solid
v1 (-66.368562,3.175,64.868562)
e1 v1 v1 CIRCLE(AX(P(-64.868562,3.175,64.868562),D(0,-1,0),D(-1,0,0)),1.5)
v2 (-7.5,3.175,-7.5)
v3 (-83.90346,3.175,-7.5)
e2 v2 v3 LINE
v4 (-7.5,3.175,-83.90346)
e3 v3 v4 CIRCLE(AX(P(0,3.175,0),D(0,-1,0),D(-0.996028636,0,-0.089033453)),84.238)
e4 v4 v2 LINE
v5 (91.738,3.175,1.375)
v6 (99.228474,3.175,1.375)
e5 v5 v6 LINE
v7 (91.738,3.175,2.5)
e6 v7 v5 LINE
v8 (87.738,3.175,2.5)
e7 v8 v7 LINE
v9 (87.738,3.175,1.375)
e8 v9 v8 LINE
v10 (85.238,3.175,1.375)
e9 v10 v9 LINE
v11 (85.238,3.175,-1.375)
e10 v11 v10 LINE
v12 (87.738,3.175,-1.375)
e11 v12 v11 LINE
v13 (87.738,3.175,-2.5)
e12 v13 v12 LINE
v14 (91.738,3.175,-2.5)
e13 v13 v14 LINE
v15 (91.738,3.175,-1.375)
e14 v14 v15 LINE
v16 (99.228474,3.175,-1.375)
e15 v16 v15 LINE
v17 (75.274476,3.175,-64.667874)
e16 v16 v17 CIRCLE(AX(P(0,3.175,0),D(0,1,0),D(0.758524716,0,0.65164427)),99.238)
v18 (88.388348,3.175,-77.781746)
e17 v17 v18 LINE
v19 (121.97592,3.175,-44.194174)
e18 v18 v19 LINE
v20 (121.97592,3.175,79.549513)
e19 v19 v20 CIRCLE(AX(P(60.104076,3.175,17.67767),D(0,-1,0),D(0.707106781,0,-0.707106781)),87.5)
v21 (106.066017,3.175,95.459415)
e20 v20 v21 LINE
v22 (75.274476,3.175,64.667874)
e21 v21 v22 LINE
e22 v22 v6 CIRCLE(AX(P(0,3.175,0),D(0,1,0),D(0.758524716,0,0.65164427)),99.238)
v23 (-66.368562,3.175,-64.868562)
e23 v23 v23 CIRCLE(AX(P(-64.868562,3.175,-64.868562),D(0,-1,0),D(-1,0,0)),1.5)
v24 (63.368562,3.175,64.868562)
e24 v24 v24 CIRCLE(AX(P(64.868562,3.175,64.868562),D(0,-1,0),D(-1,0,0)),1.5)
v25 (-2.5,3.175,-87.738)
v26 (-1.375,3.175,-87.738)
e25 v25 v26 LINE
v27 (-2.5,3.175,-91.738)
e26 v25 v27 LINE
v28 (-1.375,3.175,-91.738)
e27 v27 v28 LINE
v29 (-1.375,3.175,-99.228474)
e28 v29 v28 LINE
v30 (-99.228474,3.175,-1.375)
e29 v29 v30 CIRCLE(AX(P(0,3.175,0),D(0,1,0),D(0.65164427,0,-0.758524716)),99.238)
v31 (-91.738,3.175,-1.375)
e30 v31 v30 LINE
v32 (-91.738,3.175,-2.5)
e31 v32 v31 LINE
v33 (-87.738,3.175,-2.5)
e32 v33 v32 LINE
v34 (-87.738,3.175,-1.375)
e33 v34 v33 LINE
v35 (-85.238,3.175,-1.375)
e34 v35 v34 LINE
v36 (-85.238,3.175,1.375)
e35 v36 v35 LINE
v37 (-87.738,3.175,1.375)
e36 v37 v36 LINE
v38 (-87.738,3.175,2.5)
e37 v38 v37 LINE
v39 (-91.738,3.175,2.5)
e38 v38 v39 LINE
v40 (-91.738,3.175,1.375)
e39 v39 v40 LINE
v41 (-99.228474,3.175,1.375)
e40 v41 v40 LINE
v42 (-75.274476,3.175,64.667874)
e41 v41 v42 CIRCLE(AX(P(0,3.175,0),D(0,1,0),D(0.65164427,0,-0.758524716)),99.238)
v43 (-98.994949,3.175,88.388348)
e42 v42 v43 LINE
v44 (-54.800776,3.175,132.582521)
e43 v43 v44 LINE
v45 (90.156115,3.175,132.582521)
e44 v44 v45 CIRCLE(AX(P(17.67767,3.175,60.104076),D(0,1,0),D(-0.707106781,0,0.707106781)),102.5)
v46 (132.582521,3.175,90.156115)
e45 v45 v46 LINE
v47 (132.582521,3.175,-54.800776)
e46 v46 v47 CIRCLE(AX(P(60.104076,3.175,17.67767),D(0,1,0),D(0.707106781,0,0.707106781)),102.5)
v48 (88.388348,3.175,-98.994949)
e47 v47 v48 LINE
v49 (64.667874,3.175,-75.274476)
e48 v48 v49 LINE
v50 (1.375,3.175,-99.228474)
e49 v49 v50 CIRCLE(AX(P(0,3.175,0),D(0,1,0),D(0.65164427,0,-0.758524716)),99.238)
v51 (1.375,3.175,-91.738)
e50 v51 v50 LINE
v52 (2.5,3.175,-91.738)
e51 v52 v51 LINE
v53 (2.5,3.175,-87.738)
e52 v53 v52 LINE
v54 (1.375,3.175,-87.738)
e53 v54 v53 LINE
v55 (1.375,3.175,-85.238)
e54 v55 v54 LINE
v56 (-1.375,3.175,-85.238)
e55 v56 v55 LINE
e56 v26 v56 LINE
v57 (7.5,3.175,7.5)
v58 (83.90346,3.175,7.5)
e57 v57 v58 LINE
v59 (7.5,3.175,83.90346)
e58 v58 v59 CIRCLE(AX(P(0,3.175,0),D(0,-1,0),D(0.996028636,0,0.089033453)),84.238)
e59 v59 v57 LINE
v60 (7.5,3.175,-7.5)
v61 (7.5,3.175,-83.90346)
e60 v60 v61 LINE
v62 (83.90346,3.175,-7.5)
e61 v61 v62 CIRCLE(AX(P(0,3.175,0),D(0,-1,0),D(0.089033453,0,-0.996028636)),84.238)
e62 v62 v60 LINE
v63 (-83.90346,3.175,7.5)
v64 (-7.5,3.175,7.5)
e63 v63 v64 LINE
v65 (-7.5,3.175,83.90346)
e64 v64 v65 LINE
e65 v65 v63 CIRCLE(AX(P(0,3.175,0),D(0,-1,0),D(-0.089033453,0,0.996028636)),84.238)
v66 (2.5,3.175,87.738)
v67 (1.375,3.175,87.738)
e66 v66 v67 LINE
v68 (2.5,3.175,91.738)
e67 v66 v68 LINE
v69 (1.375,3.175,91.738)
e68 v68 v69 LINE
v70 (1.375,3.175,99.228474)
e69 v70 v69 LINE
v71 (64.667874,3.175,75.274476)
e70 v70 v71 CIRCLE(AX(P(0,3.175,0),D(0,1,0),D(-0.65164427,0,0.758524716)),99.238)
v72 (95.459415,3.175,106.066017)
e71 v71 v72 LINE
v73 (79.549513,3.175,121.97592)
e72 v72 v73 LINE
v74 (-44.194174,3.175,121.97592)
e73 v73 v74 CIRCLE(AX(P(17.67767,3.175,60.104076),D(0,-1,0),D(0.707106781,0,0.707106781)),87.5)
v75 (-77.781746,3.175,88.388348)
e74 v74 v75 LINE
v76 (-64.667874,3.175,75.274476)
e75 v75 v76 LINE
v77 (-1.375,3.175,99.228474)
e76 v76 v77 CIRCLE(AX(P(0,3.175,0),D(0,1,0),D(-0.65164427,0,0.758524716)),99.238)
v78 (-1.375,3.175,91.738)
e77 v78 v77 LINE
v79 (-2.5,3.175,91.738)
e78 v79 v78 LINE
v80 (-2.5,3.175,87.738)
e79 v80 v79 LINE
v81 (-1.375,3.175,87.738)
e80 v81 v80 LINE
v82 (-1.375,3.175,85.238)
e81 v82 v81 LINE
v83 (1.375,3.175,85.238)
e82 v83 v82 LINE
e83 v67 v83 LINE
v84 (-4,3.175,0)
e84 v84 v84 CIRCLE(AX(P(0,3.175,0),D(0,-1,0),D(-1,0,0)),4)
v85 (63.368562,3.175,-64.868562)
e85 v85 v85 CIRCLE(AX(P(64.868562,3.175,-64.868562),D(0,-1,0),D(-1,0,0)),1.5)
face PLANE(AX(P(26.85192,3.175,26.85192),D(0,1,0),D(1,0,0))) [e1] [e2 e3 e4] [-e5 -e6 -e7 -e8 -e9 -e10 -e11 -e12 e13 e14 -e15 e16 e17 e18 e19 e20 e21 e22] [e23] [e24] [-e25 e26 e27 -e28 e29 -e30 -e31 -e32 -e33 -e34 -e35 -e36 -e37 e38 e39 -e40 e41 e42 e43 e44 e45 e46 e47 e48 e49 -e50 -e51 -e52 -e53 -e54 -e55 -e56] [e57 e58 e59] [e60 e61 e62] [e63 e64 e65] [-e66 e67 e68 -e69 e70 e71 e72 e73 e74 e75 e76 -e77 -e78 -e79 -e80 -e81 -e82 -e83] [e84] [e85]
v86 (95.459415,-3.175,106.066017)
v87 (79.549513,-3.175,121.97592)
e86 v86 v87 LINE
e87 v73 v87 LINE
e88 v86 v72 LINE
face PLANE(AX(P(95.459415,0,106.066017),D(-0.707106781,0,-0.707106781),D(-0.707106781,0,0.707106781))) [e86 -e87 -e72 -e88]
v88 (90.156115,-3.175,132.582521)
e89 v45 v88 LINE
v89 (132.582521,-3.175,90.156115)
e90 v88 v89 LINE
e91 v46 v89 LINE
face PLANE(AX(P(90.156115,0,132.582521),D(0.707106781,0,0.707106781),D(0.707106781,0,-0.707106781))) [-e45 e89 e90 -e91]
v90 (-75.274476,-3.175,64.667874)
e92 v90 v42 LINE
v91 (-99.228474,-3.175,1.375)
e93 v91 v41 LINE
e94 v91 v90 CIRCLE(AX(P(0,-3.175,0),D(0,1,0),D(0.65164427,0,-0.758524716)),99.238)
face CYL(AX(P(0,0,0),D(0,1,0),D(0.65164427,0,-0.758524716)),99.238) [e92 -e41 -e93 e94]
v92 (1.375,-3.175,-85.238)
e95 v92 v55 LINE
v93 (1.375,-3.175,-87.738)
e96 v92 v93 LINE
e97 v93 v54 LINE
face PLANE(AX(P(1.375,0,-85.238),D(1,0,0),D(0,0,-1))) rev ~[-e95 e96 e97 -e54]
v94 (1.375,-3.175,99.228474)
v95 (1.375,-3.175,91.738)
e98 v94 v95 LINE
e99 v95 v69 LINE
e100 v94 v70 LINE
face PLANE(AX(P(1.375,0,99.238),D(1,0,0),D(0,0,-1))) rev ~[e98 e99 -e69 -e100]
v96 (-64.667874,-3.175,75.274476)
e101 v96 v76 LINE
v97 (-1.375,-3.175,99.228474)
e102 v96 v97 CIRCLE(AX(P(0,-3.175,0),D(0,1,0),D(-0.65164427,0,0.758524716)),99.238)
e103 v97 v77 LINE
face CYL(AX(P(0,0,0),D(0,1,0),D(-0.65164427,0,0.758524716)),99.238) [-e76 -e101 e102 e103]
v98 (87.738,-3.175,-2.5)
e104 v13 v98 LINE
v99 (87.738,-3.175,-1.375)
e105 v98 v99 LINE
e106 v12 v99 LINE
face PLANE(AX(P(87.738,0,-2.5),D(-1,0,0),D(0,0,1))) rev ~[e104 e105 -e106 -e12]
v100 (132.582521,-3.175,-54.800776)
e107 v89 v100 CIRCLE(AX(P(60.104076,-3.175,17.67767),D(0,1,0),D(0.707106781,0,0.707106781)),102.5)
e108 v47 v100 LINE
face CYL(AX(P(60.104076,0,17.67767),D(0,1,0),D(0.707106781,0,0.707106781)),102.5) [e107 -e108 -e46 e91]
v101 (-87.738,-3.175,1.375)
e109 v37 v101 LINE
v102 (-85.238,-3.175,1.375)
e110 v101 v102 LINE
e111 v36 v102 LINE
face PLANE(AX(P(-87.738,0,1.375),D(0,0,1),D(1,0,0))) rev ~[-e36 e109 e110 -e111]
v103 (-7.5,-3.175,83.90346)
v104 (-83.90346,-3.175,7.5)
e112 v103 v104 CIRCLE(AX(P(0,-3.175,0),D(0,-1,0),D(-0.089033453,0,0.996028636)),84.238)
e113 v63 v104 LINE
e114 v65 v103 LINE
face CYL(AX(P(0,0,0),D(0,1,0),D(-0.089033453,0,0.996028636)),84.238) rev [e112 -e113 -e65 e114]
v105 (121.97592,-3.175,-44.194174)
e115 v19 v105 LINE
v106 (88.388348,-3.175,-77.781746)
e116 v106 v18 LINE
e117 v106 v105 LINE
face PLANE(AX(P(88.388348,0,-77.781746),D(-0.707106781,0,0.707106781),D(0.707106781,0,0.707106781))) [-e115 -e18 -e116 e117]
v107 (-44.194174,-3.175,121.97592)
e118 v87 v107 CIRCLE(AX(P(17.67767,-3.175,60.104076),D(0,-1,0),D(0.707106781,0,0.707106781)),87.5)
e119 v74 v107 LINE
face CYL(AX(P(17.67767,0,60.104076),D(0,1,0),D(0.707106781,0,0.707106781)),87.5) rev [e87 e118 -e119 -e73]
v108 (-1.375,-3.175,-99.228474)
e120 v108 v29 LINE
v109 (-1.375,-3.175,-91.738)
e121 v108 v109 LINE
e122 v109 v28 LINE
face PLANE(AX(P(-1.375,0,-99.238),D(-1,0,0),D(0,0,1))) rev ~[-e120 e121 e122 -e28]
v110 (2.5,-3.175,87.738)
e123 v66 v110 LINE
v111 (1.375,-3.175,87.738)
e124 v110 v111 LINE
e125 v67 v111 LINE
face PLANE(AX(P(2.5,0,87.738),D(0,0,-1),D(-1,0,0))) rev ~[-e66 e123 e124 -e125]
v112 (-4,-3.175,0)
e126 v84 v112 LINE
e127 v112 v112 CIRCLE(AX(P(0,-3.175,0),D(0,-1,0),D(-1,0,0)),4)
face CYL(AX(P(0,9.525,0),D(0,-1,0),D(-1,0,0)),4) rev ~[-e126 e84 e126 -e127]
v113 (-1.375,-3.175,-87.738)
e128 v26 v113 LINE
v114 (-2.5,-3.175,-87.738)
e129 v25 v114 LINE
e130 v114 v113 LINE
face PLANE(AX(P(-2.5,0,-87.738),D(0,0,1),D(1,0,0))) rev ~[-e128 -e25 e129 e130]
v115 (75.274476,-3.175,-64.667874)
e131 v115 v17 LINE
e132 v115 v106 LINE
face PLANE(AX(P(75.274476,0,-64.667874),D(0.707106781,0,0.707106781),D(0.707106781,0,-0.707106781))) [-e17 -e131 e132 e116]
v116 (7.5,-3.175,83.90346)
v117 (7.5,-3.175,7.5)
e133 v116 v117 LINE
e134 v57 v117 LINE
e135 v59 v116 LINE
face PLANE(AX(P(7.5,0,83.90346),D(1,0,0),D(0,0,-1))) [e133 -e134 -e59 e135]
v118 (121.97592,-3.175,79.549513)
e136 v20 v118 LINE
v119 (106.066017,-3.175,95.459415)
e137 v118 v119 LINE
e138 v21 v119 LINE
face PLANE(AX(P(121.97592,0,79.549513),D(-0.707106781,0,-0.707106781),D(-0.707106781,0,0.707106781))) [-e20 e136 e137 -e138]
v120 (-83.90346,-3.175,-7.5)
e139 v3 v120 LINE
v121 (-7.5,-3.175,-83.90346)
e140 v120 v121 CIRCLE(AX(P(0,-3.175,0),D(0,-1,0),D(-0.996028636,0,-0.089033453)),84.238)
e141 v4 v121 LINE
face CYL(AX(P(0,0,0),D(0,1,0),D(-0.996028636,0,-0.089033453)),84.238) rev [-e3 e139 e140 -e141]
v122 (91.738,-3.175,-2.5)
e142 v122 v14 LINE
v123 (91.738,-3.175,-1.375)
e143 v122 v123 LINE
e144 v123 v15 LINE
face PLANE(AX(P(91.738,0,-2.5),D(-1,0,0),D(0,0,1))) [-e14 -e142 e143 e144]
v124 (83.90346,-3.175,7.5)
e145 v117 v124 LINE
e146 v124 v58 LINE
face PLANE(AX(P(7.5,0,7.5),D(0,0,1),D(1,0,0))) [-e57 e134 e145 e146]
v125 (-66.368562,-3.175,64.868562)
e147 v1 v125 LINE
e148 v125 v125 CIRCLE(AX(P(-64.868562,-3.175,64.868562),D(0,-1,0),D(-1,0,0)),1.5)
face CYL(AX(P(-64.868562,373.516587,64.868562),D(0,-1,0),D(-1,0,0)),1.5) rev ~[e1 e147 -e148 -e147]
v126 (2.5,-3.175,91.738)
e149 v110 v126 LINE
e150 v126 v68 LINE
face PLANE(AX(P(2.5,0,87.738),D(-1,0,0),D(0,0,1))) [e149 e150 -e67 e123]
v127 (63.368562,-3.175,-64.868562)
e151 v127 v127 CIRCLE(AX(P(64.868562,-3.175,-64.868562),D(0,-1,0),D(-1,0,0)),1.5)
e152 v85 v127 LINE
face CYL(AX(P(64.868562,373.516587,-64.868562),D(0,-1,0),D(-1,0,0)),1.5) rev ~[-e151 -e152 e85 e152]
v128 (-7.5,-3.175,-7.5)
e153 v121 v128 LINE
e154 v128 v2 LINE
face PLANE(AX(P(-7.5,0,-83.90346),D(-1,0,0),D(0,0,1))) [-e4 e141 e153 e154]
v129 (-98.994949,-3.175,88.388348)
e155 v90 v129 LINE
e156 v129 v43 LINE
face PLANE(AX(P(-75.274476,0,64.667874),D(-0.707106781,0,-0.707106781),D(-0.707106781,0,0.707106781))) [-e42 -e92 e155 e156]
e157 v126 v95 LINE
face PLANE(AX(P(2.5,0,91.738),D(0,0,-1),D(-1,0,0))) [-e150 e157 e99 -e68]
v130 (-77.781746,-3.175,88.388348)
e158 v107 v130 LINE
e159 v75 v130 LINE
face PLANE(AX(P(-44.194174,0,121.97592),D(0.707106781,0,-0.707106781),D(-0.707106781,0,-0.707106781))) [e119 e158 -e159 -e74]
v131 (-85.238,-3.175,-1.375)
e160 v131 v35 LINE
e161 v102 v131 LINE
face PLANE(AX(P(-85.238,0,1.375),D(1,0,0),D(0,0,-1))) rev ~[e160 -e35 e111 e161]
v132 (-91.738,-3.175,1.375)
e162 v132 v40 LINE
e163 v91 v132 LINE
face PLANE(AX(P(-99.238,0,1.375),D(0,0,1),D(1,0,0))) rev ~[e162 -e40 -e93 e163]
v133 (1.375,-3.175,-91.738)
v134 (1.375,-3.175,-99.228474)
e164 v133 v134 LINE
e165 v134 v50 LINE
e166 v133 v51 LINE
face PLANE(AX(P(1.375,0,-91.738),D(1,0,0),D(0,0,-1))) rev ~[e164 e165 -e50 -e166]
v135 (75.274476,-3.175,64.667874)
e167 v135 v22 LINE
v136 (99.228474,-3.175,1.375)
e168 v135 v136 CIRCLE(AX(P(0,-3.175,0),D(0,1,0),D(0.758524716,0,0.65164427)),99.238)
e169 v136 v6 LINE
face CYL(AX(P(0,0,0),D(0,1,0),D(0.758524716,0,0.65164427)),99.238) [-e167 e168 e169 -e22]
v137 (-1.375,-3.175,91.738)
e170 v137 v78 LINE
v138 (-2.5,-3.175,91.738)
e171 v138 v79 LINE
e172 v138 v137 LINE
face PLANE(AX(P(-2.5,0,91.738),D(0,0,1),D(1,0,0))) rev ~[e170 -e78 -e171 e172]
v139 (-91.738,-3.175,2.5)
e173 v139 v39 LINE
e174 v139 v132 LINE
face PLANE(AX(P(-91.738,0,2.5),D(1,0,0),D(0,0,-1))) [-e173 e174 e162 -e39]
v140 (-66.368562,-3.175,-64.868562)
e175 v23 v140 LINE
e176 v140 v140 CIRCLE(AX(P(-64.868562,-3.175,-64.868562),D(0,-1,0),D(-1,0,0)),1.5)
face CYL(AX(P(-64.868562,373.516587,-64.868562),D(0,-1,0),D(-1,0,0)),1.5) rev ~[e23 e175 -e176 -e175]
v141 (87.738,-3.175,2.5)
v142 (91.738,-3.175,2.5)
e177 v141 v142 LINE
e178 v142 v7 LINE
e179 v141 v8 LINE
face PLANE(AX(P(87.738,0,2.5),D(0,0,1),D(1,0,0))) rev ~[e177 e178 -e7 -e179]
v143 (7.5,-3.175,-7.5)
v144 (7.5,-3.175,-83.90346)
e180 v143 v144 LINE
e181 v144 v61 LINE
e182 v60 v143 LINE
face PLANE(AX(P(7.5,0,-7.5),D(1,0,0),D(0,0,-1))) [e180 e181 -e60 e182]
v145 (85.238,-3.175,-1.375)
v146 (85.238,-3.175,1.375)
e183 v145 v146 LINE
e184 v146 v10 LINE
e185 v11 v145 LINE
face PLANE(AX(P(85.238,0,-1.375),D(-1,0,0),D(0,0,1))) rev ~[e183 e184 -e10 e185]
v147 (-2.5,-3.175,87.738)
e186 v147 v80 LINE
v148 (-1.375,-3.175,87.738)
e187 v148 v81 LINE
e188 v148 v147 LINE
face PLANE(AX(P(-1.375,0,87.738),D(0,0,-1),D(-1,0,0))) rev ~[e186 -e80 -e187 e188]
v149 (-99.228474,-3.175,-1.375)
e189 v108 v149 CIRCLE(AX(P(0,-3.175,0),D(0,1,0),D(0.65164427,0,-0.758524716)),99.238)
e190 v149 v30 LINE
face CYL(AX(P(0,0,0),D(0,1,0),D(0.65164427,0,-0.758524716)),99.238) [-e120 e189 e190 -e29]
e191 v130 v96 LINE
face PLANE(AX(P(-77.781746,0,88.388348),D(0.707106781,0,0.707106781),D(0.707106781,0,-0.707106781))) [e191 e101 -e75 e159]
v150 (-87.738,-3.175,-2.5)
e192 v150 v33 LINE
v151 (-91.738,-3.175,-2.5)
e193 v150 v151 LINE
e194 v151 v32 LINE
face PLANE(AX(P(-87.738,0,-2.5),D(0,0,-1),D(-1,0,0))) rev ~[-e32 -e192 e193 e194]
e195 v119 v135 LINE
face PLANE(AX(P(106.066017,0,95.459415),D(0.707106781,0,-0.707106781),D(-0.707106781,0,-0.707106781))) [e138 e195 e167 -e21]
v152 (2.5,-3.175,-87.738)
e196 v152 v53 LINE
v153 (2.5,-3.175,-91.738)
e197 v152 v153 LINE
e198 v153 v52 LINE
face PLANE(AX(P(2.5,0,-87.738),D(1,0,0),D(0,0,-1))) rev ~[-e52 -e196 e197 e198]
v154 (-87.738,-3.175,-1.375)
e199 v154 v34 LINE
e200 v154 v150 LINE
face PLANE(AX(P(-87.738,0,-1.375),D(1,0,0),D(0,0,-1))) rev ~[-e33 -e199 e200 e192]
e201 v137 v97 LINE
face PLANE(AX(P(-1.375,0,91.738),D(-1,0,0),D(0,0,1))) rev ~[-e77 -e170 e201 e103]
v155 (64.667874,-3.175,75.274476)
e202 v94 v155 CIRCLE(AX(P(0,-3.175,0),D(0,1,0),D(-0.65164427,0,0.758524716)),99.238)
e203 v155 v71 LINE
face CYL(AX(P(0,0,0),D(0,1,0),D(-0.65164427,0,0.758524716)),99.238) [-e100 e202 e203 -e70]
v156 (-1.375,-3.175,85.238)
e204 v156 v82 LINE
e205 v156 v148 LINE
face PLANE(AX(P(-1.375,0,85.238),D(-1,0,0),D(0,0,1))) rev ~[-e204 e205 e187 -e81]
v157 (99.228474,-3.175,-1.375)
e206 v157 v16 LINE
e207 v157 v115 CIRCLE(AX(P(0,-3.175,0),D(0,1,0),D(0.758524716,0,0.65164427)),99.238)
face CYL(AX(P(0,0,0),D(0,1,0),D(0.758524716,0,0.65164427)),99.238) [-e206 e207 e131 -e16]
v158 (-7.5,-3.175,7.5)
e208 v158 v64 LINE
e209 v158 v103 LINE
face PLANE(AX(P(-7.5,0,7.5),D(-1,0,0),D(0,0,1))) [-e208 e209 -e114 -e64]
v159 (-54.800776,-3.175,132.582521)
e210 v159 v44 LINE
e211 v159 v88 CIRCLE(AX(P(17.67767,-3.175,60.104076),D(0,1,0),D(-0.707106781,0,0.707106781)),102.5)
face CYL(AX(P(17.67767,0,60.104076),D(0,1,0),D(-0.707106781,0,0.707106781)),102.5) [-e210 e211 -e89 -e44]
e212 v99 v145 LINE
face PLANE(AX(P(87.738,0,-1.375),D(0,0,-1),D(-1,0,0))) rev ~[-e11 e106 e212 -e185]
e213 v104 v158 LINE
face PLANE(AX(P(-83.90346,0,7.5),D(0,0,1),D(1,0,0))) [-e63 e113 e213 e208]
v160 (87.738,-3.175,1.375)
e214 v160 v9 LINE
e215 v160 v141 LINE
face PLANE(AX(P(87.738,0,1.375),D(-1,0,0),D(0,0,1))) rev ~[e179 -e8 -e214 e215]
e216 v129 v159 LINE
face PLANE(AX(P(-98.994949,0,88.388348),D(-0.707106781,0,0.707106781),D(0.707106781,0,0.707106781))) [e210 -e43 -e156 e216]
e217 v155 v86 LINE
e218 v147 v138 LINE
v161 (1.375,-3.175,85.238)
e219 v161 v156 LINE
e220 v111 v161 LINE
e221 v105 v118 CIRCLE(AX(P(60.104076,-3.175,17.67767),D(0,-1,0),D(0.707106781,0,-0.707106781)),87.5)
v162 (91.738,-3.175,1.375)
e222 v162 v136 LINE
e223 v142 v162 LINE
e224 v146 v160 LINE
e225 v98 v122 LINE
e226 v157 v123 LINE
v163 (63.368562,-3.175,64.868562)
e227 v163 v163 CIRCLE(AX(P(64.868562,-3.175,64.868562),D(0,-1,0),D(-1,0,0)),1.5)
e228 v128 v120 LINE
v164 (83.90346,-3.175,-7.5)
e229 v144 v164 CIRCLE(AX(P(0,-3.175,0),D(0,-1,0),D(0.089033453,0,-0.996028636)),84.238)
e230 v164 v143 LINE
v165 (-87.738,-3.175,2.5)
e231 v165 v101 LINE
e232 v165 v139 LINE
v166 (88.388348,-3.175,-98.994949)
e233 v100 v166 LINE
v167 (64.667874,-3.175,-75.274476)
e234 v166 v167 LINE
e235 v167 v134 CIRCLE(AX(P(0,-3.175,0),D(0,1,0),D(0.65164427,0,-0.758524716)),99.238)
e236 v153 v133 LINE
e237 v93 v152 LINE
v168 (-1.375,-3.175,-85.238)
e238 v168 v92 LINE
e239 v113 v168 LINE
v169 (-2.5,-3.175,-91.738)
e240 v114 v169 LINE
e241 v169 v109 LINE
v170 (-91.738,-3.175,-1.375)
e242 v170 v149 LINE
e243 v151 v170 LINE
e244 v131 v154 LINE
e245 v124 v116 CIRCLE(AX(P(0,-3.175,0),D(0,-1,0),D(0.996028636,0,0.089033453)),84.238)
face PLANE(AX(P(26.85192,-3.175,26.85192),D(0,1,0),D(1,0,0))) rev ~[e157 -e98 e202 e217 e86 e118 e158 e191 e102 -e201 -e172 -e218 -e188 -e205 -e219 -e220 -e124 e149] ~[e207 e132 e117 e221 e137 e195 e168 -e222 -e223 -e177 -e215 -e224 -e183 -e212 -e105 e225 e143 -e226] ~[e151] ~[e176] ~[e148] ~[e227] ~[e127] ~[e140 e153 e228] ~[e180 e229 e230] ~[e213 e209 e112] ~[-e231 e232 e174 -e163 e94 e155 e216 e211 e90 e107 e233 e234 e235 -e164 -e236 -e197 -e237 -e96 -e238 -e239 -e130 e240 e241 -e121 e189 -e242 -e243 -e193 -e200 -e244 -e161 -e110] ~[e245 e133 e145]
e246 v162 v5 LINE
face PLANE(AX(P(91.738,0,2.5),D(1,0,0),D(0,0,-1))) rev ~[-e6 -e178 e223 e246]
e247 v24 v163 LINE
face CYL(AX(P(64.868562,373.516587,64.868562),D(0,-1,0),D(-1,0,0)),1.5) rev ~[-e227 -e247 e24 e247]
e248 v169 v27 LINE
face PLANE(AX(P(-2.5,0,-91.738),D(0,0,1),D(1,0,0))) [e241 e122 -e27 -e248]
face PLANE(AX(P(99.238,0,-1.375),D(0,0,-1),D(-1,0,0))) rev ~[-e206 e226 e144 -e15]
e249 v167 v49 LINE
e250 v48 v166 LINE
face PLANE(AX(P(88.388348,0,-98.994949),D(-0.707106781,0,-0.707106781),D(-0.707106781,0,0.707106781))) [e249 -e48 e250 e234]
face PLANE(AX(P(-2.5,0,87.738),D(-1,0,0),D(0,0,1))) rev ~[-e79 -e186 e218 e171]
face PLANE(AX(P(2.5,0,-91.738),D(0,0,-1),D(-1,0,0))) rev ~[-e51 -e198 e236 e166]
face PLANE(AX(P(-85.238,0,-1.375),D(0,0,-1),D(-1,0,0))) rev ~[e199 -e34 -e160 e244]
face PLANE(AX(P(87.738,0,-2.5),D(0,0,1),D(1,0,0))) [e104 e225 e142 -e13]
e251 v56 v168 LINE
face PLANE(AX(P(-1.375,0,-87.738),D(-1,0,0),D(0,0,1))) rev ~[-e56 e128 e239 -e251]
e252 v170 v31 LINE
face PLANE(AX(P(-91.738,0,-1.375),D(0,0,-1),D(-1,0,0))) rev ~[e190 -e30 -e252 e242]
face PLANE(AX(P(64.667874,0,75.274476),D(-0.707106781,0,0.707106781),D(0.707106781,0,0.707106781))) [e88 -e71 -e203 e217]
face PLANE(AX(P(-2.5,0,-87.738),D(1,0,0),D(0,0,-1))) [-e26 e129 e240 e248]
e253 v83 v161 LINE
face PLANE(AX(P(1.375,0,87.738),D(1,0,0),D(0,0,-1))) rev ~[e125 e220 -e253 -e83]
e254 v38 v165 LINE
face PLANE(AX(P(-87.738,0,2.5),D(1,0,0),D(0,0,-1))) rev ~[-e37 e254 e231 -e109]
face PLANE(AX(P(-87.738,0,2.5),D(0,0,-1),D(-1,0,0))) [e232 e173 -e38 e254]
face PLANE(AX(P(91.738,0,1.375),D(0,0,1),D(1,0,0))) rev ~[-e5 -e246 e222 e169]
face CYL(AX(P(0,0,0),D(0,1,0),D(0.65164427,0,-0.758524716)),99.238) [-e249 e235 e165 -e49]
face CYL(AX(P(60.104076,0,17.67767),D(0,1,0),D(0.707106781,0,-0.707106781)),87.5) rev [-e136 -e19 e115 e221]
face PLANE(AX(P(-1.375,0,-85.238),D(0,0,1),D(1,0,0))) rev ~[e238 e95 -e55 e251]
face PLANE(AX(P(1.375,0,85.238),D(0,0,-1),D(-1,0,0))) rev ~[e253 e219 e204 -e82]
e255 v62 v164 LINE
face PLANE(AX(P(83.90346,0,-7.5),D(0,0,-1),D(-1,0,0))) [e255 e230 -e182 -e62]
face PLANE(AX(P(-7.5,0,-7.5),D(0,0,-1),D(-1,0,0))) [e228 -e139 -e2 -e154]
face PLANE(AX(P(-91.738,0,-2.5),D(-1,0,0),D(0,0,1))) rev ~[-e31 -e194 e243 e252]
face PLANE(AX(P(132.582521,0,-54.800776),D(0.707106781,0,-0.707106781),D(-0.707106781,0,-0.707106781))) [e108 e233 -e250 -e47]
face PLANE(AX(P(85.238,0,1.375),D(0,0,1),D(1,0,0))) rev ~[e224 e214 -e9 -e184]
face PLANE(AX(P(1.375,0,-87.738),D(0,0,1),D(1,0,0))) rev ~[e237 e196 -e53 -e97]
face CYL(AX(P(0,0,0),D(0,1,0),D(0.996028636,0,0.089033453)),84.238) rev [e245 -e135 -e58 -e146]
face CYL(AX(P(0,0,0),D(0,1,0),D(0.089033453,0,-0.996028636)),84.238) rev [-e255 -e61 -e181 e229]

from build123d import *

# Parameters (mm, degrees)
BOSS_EXTRUDE1_DEPTH          = 3.175
SKETCH2_W                    = 2.75
SKETCH2_H                    = 2.5
SKETCH2_H_2                  = 4
SKETCH2_W_2                  = 1.125
SKETCH2_H_3                  = 7.5
CUT_EXTRUDE1_DEPTH           = 230.978807609
CIRPATTERN1_COUNT            = 4
F_3_0_3_DIAMETER_HOLE1_D     = 3
F_8_0_8_DIAMETER_HOLE1_D     = 8
F_8_0_8_DIAMETER_HOLE1_DEPTH = 6.35


with BuildPart() as part:
    # Sketch1 → Boss-Extrude1 (new, symmetric)
    with BuildSketch(Plane(origin=(0, 0, 0), x_dir=(1, 0, 0), z_dir=(0, 1, 0))):
        with BuildLine():
            Line((88.388347648, 98.994949366), (64.667874078, 75.274475795))
            ThreePointArc((64.667874078, 75.274475795), (-70.171862751, 70.171862751), (-75.274475795, -64.667874078))
            Line((-75.274475795, -64.667874078), (-98.994949366, -88.388347648))
            Line((-98.994949366, -88.388347648), (-54.800775542, -132.582521472))
            ThreePointArc((-54.800775542, -132.582521472), (17.67766953, -162.604076401), (90.156114601, -132.582521472))
            Line((90.156114601, -132.582521472), (132.582521472, -90.156114601))
            ThreePointArc((132.582521472, -90.156114601), (162.604076401, -17.67766953), (132.582521472, 54.800775542))
            Line((132.582521472, 54.800775542), (88.388347648, 98.994949366))
        make_face()
        with BuildLine():
            Line((-7.5, -7.5), (-7.5, -83.903460262))
            ThreePointArc((-7.5, -83.903460262), (-59.565261034, -59.565261034), (-83.903460262, -7.5))
            Line((-83.903460262, -7.5), (-7.5, -7.5))
        make_face(mode=Mode.SUBTRACT)
        with BuildLine():
            ThreePointArc((83.903460262, -7.5), (59.565261034, -59.565261034), (7.5, -83.903460262))
            Line((7.5, -83.903460262), (7.5, -7.5))
            Line((7.5, -7.5), (83.903460262, -7.5))
        make_face(mode=Mode.SUBTRACT)
        with BuildLine():
            ThreePointArc((-64.667874078, -75.274475795), (0, -99.238), (64.667874078, -75.274475795))
            Line((64.667874078, -75.274475795), (95.45941546, -106.066017178))
            Line((95.45941546, -106.066017178), (79.549512883, -121.975919755))
            ThreePointArc((79.549512883, -121.975919755), (17.67766953, -147.604076401), (-44.194173824, -121.975919755))
            Line((-44.194173824, -121.975919755), (-77.781745931, -88.388347648))
            Line((-77.781745931, -88.388347648), (-64.667874078, -75.274475795))
        make_face(mode=Mode.SUBTRACT)
        with BuildLine():
            ThreePointArc((75.274475795, -64.667874078), (99.238, 0), (75.274475795, 64.667874078))
            Line((75.274475795, 64.667874078), (88.388347648, 77.781745931))
            Line((88.388347648, 77.781745931), (121.975919755, 44.194173824))
            ThreePointArc((121.975919755, 44.194173824), (147.604076401, -17.67766953), (121.975919755, -79.549512883))
            Line((121.975919755, -79.549512883), (106.066017178, -95.45941546))
            Line((106.066017178, -95.45941546), (75.274475795, -64.667874078))
        make_face(mode=Mode.SUBTRACT)
        with BuildLine():
            Line((-7.5, 7.5), (-83.903460262, 7.5))
            ThreePointArc((-83.903460262, 7.5), (-59.565261034, 59.565261034), (-7.5, 83.903460262))
            Line((-7.5, 83.903460262), (-7.5, 7.5))
        make_face(mode=Mode.SUBTRACT)
        with BuildLine():
            ThreePointArc((7.5, 83.903460262), (59.565261034, 59.565261034), (83.903460262, 7.5))
            Line((83.903460262, 7.5), (7.5, 7.5))
            Line((7.5, 7.5), (7.5, 83.903460262))
        make_face(mode=Mode.SUBTRACT)
    extrude(amount=BOSS_EXTRUDE1_DEPTH, both=True)

    # Sketch2 → Cut-Extrude1 (cut, symmetric)
    with BuildSketch(Plane(origin=(0, 0, 0), x_dir=(1, 0, 0), z_dir=(0, 1, 0))):
        with Locations((0, 86.488)):
            Rectangle(SKETCH2_W, SKETCH2_H)
        with Locations((0, 89.738)):
            Rectangle(SKETCH2_W, SKETCH2_H_2)
        with Locations((1.9375, 89.738)):
            Rectangle(SKETCH2_W_2, SKETCH2_H_2)
        with Locations((0, 95.488)):
            Rectangle(SKETCH2_W, SKETCH2_H_3)
        with Locations((-1.9375, 89.738)):
            Rectangle(SKETCH2_W_2, SKETCH2_H_2)
    cut_extrude1 = extrude(amount=CUT_EXTRUDE1_DEPTH, both=True, mode=Mode.SUBTRACT)

    # CirPattern1: Cut-Extrude1 ×4 about axis
    cirpattern1_axis = Axis((0, 0, 0), (0, 1, 0))
    for i in range(1, CIRPATTERN1_COUNT):
        add(cut_extrude1.rotate(cirpattern1_axis, i * 360 / CIRPATTERN1_COUNT), mode=Mode.SUBTRACT)

    # Ø3.0 (3) Diameter Hole1 (through all)
    with Locations(Plane(origin=(0, 3.175, 0), x_dir=(1, 0, 0), z_dir=(0, 1, 0))):
        with Locations((-64.868561892, -64.868561892), (0, 0), (-64.868561892, 64.868561892), (64.868561892, 64.868561892), (64.868561892, -64.868561892)):
            Hole(F_3_0_3_DIAMETER_HOLE1_D / 2)

    # Ø8.0 (8) Diameter Hole1
    with Locations(Plane(origin=(0, 3.175, 0), x_dir=(1, 0, 0), z_dir=(0, 1, 0))):
        with Locations((0, 0)):
            Hole(F_8_0_8_DIAMETER_HOLE1_D / 2, depth=F_8_0_8_DIAMETER_HOLE1_DEPTH)


solid = part.part
